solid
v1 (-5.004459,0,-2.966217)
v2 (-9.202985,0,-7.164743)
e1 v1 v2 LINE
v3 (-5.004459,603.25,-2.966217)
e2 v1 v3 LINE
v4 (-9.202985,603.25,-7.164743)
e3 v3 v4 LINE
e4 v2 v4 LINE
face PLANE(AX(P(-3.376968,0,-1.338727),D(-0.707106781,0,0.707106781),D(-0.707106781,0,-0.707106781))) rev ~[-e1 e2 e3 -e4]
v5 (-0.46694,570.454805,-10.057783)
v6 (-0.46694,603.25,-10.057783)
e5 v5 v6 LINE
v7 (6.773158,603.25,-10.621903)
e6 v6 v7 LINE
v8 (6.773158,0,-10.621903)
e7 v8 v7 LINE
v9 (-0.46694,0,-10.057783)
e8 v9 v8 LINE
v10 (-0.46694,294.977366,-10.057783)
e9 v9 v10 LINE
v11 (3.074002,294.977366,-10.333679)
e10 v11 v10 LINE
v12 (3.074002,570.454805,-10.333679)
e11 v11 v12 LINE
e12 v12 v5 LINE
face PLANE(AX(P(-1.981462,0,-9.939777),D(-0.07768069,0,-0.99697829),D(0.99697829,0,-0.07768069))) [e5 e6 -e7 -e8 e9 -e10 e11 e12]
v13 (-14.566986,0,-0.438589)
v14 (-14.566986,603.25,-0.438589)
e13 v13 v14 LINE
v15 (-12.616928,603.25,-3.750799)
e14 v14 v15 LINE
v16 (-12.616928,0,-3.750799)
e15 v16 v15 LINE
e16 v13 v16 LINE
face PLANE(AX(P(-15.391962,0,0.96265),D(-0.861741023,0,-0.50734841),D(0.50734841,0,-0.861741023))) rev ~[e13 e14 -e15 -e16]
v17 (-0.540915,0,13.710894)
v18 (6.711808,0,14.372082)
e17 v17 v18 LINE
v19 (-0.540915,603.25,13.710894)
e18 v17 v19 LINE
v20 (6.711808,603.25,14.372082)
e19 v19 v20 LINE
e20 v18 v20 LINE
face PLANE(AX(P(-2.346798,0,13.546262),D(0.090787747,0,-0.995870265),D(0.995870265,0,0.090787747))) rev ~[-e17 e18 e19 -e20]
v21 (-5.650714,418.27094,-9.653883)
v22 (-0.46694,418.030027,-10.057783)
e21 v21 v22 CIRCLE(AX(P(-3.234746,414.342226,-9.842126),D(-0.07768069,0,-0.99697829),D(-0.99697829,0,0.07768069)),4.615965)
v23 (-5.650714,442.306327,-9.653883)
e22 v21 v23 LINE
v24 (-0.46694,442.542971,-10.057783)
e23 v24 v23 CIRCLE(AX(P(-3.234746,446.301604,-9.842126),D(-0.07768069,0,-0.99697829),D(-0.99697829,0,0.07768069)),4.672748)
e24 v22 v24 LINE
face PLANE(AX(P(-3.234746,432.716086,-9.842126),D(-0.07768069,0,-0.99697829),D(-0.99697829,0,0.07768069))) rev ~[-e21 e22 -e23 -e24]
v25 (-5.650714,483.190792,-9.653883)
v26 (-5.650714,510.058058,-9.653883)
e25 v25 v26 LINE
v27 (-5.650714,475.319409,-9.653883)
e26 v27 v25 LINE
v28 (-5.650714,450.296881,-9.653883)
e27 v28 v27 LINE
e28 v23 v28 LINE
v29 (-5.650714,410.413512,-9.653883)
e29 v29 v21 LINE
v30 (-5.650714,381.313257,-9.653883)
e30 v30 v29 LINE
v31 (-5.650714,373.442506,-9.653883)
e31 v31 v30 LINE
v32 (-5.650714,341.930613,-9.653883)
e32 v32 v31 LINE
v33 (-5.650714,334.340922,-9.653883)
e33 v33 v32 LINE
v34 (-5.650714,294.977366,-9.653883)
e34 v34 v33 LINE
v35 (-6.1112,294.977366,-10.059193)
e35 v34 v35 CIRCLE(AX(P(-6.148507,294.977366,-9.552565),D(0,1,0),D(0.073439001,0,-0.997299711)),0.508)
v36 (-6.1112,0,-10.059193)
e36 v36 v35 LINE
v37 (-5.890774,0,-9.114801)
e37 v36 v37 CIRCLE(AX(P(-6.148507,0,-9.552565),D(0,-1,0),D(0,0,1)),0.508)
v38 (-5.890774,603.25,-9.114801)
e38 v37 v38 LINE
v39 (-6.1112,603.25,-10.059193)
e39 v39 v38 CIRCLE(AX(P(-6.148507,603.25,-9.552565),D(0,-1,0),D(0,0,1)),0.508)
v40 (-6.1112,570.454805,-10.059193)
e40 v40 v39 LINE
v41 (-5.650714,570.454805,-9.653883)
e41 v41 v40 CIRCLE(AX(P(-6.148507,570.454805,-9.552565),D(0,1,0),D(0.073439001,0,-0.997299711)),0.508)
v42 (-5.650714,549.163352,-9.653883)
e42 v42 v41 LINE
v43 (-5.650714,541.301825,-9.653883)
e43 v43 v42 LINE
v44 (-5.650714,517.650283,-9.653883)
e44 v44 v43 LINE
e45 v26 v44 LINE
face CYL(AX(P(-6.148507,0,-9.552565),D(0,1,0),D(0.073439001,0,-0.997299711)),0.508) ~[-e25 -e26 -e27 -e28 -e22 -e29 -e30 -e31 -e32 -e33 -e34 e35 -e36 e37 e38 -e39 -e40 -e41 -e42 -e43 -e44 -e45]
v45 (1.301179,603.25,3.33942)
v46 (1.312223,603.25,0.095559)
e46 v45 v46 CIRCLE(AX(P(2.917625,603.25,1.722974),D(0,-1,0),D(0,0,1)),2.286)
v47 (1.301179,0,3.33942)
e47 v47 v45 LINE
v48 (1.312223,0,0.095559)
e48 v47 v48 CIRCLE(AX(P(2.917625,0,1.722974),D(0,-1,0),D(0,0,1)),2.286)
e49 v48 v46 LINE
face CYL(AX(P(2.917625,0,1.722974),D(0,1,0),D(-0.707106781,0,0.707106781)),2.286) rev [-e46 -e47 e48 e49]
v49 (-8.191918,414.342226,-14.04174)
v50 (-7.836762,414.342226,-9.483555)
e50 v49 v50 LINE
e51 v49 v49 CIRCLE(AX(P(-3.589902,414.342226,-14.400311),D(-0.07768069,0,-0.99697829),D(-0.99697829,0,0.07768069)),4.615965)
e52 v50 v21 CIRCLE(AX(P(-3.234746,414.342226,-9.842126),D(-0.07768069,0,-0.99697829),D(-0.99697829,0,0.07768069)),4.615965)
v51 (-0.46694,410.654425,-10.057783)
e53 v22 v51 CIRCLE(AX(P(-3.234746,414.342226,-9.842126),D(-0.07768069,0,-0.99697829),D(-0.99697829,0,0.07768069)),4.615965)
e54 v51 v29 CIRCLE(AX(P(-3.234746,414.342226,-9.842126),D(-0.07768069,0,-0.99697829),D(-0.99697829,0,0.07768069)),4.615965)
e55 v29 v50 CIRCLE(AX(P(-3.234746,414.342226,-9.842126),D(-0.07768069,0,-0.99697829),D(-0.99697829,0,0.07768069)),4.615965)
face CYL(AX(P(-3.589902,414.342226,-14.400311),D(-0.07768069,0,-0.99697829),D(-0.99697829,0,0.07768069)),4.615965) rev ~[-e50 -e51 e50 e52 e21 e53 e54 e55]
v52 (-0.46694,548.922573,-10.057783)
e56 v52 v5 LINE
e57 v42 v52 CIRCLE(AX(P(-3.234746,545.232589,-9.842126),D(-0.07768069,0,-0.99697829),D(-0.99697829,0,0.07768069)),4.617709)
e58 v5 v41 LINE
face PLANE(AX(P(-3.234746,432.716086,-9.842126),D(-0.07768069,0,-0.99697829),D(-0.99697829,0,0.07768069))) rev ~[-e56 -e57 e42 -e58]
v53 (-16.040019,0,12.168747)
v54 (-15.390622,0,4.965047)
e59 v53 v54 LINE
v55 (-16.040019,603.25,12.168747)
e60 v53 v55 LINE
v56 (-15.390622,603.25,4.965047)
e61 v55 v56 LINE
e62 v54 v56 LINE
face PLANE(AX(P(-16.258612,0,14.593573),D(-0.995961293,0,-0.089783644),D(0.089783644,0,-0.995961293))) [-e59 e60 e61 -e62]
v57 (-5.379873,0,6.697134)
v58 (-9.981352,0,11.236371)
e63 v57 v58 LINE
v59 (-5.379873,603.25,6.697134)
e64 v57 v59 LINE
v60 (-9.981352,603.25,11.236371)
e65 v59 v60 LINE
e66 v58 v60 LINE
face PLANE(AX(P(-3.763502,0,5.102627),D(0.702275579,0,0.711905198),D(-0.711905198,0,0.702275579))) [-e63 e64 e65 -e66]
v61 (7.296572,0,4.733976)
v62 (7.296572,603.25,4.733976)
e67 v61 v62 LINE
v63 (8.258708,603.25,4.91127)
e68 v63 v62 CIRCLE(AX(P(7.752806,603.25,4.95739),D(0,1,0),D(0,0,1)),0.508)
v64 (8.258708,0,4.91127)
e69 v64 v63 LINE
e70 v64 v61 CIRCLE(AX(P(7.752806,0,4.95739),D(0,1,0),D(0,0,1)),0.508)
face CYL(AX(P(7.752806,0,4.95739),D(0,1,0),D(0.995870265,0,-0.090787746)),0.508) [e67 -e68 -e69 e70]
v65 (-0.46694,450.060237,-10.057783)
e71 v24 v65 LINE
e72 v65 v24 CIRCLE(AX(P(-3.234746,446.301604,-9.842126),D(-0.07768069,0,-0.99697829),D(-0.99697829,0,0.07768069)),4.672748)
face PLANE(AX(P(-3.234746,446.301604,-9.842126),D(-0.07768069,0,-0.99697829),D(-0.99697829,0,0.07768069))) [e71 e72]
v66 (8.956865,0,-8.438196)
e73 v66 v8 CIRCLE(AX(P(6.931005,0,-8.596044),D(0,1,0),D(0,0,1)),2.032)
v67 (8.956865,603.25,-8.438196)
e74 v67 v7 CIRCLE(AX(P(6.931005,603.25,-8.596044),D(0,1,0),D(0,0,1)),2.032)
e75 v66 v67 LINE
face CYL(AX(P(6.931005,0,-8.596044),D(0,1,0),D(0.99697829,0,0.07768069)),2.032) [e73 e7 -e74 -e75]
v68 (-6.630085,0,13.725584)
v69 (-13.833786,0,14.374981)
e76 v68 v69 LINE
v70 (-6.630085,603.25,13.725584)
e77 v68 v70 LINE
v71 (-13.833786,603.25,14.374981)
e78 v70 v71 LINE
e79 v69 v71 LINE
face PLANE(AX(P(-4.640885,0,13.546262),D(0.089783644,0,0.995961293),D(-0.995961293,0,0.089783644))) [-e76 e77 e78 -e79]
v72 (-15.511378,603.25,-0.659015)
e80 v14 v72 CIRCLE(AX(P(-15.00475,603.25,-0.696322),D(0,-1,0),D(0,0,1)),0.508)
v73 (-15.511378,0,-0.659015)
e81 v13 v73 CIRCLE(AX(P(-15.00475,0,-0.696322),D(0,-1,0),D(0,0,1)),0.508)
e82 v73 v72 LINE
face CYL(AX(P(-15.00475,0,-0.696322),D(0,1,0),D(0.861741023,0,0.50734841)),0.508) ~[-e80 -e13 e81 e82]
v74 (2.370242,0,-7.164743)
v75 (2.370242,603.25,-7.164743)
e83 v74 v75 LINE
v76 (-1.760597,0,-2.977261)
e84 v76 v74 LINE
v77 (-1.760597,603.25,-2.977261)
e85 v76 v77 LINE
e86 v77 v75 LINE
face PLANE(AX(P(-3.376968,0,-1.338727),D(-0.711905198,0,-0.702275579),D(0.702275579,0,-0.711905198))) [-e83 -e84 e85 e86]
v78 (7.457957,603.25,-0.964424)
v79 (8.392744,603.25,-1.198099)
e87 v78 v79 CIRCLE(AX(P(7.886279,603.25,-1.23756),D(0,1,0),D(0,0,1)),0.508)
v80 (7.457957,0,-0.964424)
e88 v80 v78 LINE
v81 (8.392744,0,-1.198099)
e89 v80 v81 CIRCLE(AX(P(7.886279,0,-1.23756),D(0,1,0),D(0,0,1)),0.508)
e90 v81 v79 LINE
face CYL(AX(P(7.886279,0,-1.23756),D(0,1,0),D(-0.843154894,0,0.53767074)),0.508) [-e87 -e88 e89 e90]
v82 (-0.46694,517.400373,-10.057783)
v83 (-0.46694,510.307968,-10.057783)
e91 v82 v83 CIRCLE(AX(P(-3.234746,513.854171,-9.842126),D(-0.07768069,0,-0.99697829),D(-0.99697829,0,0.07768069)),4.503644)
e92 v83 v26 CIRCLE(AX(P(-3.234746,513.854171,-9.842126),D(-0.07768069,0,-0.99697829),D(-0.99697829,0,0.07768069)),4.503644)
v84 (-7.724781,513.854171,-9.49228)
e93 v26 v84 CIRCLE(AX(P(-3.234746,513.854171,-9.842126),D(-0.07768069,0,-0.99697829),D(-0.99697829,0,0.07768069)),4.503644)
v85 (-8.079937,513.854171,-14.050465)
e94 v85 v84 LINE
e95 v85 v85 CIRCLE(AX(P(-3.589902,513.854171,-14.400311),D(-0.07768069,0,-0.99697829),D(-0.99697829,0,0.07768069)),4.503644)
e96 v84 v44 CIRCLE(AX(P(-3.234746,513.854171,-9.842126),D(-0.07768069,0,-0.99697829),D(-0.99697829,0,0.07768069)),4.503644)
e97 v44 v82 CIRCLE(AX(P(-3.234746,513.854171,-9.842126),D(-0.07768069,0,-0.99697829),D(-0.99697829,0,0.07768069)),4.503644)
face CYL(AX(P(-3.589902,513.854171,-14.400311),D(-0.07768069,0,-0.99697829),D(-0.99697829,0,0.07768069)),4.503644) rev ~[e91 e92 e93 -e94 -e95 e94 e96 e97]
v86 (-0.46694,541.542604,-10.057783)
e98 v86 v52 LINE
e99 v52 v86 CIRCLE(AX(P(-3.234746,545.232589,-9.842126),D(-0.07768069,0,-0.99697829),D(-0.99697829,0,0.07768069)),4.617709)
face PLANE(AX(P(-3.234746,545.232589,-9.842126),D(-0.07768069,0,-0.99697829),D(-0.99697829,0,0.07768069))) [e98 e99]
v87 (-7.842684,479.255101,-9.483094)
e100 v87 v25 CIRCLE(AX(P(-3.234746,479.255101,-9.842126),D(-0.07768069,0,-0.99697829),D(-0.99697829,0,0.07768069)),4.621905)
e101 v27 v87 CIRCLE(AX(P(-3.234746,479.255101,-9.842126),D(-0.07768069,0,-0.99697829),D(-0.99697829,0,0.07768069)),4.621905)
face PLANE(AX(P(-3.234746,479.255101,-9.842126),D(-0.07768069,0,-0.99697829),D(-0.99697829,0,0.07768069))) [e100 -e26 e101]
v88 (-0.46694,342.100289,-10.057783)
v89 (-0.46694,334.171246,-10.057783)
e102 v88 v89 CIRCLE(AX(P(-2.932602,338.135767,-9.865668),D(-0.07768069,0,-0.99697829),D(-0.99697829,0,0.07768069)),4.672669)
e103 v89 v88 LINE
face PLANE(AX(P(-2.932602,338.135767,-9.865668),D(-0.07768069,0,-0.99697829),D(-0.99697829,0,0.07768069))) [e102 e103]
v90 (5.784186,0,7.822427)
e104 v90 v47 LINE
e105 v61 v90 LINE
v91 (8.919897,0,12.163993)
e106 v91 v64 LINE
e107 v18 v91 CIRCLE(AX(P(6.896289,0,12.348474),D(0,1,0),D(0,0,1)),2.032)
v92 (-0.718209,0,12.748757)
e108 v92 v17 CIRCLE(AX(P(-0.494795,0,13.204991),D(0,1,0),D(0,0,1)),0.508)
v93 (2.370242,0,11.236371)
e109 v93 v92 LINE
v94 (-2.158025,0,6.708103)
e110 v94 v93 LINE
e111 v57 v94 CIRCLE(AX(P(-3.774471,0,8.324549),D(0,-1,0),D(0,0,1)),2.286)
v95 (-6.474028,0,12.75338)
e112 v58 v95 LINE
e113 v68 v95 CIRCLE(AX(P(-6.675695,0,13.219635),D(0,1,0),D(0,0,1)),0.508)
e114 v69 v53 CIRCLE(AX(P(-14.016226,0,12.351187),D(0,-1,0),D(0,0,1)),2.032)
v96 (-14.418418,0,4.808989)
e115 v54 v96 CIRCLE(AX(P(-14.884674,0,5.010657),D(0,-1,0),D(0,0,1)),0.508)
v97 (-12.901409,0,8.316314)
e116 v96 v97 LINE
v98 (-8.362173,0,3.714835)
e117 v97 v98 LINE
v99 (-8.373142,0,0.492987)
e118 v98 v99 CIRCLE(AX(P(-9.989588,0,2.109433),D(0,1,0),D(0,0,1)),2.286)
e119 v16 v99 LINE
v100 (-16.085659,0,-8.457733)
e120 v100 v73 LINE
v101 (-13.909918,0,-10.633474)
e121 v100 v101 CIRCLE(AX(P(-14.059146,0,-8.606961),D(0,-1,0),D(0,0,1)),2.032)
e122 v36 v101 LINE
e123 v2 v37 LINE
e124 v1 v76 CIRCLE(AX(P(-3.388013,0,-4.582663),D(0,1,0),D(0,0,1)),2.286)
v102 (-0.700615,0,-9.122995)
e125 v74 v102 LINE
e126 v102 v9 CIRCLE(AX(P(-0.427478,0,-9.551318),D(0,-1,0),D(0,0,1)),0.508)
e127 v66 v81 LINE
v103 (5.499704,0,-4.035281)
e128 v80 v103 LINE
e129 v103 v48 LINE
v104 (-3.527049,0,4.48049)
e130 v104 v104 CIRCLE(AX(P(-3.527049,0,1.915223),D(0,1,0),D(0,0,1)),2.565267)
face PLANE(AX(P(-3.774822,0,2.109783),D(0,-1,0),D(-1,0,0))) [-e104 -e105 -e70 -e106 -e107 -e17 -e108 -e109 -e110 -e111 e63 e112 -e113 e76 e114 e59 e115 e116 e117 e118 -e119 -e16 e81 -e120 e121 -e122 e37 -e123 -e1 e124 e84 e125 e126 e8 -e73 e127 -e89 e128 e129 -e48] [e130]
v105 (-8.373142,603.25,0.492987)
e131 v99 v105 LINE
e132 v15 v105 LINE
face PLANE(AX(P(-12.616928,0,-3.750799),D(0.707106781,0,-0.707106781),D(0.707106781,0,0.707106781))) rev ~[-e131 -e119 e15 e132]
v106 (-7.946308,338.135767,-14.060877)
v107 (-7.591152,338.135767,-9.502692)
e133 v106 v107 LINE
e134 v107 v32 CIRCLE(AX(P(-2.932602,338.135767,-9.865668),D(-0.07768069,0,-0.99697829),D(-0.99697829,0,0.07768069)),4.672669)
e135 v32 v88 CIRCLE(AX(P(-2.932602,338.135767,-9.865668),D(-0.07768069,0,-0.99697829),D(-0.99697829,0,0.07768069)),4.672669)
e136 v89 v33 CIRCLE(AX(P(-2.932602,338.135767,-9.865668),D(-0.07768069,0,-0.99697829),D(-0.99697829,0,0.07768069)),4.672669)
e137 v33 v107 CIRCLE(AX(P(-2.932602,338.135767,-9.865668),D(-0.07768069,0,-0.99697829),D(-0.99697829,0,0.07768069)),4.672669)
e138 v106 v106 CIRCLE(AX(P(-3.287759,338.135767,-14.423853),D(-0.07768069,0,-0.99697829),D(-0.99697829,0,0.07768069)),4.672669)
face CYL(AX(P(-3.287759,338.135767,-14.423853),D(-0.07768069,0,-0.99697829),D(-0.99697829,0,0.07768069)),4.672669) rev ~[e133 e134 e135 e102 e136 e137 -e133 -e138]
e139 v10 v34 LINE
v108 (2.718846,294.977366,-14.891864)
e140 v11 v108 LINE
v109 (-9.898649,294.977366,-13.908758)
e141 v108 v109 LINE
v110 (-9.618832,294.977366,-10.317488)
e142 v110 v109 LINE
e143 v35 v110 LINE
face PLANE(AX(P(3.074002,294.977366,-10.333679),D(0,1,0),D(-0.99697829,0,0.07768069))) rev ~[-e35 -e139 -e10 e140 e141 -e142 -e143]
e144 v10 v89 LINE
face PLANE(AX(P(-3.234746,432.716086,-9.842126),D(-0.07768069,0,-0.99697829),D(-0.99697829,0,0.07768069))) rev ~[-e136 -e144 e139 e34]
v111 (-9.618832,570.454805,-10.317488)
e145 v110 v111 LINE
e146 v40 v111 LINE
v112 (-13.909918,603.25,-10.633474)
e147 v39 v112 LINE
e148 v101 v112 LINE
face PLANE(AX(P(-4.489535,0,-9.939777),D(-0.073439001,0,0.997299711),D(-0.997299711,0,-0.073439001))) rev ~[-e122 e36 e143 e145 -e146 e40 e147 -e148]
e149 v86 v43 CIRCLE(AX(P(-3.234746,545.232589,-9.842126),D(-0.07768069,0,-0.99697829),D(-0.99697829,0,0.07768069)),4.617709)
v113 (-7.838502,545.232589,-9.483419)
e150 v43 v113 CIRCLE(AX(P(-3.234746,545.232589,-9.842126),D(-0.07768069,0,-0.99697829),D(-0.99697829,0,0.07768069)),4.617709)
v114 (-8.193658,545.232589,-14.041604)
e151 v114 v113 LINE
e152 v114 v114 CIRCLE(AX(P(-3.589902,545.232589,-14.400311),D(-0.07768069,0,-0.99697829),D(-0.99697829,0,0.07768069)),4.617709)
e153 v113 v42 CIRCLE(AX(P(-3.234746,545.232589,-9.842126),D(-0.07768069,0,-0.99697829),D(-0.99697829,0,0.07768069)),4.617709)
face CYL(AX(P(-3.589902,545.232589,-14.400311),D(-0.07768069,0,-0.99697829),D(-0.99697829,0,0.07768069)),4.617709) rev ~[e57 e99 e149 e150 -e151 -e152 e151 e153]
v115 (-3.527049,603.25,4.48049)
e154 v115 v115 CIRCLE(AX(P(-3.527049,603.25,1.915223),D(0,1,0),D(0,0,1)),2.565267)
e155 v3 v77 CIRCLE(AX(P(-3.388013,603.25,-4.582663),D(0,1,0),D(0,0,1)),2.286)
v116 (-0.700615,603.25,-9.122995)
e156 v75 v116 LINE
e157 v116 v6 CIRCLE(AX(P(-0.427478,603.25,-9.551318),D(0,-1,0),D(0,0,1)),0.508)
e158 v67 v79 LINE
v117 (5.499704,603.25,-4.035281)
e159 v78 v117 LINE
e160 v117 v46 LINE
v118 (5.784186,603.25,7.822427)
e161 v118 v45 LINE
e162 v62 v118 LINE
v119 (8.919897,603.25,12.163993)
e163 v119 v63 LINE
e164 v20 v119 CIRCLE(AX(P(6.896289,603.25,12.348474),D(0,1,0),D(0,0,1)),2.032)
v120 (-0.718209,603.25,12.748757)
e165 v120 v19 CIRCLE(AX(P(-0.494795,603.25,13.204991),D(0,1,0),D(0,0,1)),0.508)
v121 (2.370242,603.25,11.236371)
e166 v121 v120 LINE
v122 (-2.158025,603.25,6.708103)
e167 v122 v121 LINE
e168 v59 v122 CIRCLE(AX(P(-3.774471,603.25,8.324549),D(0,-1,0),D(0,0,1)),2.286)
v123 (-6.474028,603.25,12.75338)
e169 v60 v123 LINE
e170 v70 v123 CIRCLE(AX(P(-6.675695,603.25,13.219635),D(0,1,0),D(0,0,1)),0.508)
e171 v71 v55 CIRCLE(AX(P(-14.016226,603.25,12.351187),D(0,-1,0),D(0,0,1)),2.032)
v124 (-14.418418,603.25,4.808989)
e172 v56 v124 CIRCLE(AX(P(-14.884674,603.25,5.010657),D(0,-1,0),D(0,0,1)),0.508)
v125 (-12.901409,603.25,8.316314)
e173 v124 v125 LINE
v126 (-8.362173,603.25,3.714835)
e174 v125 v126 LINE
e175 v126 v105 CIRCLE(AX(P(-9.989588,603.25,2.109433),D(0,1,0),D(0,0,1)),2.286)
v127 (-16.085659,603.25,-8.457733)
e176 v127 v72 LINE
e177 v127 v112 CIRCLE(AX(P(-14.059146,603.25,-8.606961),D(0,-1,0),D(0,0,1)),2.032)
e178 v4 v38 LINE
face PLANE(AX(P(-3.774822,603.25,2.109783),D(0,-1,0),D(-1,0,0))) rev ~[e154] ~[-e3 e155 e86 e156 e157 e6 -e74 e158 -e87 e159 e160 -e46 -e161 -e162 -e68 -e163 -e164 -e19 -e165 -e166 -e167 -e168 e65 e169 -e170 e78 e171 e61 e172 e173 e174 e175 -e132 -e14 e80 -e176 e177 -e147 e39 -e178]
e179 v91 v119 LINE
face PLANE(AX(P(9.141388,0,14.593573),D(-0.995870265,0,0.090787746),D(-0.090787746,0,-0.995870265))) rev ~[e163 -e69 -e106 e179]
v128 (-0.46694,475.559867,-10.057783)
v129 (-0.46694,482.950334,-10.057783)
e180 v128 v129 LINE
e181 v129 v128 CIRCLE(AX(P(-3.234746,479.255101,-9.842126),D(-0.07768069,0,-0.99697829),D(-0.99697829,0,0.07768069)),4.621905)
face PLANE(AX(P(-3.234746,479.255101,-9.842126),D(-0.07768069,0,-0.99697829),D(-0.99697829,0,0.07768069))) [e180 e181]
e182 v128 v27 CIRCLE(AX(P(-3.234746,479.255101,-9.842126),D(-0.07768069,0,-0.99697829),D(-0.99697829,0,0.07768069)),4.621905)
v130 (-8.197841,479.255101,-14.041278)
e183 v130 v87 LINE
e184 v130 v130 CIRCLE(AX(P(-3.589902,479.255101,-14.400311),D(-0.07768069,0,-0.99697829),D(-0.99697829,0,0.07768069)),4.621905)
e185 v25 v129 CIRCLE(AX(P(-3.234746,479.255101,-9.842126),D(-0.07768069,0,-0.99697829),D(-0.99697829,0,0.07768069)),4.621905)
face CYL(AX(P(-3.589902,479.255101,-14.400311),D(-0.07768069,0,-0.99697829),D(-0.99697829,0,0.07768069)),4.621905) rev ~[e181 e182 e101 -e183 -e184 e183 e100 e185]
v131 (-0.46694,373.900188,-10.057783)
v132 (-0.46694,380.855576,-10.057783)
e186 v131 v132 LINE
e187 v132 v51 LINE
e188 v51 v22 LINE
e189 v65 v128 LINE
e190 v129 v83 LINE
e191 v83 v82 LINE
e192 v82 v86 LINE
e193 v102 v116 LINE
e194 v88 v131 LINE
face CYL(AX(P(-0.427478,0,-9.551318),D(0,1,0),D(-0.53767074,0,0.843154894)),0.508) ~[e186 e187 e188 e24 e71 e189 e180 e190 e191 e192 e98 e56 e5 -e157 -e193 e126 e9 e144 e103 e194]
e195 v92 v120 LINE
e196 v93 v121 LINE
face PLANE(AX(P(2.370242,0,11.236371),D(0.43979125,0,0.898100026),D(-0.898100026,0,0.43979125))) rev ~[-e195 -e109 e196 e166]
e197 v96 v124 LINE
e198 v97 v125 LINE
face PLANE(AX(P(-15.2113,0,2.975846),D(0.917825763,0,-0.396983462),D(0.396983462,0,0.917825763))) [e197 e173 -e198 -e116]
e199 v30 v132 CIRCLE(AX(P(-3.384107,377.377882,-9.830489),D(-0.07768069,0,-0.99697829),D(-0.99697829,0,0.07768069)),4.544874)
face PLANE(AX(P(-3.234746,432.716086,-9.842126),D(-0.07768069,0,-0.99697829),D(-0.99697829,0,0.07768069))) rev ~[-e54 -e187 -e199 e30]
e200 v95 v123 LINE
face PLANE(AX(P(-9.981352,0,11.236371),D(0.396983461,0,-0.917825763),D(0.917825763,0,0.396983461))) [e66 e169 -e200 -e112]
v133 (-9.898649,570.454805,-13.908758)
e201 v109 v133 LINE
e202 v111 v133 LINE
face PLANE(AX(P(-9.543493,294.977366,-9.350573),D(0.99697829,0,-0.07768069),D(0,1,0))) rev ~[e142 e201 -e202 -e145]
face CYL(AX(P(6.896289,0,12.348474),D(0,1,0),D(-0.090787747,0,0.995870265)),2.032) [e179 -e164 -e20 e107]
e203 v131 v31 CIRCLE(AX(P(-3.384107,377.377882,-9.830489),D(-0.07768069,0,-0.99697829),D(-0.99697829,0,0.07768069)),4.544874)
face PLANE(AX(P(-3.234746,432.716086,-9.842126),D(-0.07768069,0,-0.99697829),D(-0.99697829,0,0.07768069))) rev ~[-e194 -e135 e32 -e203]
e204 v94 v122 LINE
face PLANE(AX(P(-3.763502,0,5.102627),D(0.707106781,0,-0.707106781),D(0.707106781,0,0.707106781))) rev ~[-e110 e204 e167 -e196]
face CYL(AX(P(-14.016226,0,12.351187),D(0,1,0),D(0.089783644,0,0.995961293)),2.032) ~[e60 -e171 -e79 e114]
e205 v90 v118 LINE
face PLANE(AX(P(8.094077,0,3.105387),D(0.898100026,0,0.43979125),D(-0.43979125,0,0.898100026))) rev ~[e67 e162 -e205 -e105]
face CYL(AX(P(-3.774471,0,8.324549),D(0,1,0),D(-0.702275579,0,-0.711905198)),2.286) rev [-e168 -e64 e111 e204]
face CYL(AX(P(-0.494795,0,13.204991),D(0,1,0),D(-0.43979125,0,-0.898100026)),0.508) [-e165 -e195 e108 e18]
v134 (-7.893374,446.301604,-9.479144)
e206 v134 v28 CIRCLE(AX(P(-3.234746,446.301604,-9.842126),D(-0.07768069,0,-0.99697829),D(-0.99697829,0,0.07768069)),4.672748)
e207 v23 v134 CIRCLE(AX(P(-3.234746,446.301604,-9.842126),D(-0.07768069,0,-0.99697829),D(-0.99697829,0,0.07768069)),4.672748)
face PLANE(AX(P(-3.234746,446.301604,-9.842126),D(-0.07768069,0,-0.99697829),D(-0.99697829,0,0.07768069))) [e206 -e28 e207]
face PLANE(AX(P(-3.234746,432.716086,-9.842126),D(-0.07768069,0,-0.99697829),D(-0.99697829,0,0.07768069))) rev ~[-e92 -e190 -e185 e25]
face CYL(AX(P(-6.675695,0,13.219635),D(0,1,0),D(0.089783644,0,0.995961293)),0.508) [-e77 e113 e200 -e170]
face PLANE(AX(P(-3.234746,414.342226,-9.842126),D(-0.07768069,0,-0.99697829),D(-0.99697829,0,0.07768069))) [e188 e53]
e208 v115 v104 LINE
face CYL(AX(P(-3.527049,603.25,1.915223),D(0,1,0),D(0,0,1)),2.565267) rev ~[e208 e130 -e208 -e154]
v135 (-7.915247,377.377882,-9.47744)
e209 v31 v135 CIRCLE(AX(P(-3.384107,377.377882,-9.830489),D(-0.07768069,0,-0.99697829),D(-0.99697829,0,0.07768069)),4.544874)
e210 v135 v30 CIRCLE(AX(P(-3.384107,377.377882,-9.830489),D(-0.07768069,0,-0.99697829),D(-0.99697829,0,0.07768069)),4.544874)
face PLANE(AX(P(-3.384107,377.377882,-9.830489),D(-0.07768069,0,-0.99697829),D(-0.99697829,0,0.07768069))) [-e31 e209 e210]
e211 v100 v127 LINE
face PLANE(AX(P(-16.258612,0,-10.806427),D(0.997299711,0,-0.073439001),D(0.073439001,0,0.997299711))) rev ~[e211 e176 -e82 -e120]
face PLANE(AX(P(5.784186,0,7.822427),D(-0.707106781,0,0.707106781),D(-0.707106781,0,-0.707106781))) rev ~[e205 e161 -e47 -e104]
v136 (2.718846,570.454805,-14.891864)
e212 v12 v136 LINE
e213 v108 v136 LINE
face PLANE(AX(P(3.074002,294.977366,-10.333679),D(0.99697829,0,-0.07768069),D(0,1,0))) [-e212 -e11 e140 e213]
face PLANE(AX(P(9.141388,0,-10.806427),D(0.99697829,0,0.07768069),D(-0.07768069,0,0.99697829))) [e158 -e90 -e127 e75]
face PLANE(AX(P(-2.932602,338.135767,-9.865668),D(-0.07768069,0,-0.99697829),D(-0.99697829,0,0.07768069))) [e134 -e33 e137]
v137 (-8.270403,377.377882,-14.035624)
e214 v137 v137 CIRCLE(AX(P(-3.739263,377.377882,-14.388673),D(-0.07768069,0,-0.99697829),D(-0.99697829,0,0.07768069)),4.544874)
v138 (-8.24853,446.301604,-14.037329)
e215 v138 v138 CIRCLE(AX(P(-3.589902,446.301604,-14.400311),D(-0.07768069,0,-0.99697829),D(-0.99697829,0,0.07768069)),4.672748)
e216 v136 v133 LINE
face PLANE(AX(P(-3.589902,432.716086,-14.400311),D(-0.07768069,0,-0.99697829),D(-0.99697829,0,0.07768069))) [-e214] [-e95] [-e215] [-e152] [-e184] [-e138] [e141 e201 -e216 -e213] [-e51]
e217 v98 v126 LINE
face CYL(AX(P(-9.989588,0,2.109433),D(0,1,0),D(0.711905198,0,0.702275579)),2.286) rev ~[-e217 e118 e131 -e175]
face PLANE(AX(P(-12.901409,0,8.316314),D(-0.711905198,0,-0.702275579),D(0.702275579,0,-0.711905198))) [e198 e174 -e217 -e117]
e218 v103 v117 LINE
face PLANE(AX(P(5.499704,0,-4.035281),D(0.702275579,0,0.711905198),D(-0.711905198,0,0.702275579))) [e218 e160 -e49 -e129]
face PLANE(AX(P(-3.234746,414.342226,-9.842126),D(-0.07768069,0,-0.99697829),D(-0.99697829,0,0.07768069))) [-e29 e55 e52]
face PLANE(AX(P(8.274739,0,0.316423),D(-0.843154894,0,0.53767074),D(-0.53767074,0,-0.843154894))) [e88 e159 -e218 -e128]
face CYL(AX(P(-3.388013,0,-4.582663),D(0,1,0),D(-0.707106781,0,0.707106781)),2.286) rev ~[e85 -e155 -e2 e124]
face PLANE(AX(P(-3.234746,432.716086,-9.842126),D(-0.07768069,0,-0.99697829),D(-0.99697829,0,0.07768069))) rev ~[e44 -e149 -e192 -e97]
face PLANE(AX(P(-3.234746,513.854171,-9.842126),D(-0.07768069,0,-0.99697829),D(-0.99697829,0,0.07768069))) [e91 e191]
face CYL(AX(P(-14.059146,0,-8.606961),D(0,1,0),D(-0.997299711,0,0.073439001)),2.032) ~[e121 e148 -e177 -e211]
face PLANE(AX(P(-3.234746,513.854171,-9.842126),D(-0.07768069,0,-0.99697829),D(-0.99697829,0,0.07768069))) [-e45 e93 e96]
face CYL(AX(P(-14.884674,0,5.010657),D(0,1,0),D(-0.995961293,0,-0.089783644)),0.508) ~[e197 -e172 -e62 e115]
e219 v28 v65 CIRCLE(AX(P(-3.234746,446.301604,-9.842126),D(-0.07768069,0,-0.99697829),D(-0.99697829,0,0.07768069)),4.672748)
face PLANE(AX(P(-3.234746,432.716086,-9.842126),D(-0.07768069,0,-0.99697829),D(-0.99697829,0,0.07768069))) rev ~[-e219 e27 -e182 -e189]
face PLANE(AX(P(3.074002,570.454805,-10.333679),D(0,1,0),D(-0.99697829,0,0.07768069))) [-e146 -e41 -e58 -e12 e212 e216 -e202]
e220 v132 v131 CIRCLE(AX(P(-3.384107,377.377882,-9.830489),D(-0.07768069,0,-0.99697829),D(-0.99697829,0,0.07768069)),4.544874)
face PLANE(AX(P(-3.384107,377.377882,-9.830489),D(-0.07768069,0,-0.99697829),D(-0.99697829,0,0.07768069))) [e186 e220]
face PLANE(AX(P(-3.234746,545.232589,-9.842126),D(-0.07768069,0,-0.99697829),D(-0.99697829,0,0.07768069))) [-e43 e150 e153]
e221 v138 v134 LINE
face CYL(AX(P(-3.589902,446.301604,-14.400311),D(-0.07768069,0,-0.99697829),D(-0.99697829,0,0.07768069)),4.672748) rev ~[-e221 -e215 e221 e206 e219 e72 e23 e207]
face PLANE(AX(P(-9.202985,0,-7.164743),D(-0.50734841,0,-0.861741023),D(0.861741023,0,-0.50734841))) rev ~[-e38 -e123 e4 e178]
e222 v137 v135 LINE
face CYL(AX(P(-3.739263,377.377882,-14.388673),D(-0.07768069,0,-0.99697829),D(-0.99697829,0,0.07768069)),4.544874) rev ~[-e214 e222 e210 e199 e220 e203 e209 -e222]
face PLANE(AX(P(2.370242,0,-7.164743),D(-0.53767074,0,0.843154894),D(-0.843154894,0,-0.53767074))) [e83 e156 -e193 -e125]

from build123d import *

# Parameters (mm, degrees)
BOSS_EXTRUDE1_DEPTH = 603.25
SKETCH8_R           = 2.565266714
CUT_EXTRUDE4_DEPTH  = 604.996
FILLET1_R           = 2.032
FILLET2_R           = 0.508
SKETCH5_W           = 12.655737404
SKETCH5_H           = 275.477439744
BOSS_EXTRUDE3_DEPTH = 4.572
SKETCH6_R           = 4.617709461
SKETCH6_R_2         = 4.503643825
SKETCH6_R_3         = 4.621904919
SKETCH6_R_4         = 4.672748293
SKETCH6_R_5         = 4.615964847
CUT_EXTRUDE2_DEPTH  = 4.572
SKETCH7_R           = 4.54487388
SKETCH7_R_2         = 4.672668652
CUT_EXTRUDE3_DEPTH  = 4.572
FILLET3_R           = 2.286


with BuildPart() as part:
    # Sketch2 → Boss-Extrude1 (new body)
    with BuildSketch(Plane(origin=(0, 0, 0), x_dir=(1, 0, 0), z_dir=(0, 1, 0))):
        Polygon((-16.258611825, -14.593573265), (-15.211300169, -2.97584616), (-12.901409331, -8.316313776), (2.370242199, 7.164742979), (-1.981461576, 9.939777323), (9.141388175, 10.806426735), (8.274738763, -0.316423015), (5.499704418, 4.03528076), (-9.981352337, -11.236370771), (-4.640884721, -13.546261608), align=None)
        Polygon((-15.391962413, -0.962649654), (-12.616928069, 3.750799497), (2.370242199, -11.236370771), (-2.346798037, -13.546261608), (9.141388175, -14.593573265), (8.094076519, -3.105387053), (5.784185681, -7.822427289), (-9.202984587, 7.164742979), (-4.489535436, 9.939777323), (-16.258611825, 10.806426735), align=None)
    extrude(amount=BOSS_EXTRUDE1_DEPTH)

    # Sketch8 → Cut-Extrude4 (cut)
    with BuildSketch(Plane(origin=(0, 603.25, 0), x_dir=(1, 0, 0), z_dir=(0, 1, 0))):
        with Locations(Location((-3.527048706, -1.915222876, 0), (0, 0, 270))):
            Circle(SKETCH8_R)
    extrude(amount=-CUT_EXTRUDE4_DEPTH, mode=Mode.SUBTRACT)

    # Fillet1
    fillet1_edges = [part.edges().sort_by_distance(p)[0] for p in [
        (9.141388175, 301.625, -10.806426735),
        (9.141388175, 301.625, 14.593573265),
        (-16.258611825, 301.625, 14.593573265),
        (-16.258611825, 301.625, -10.806426735),
    ]]
    fillet(fillet1_edges, radius=FILLET1_R)

    # Fillet2
    fillet2_edges = [part.edges().sort_by_distance(p)[0] for p in [
        (-1.981461576, 301.625, -9.939777323),
        (8.274738763, 301.625, 0.316423015),
        (8.094076519, 301.625, 3.105387053),
        (-2.346798037, 301.625, 13.546261608),
        (-4.640884721, 301.625, 13.546261608),
        (-15.211300169, 301.625, 2.97584616),
        (-15.391962413, 301.625, 0.962649654),
        (-4.489535436, 301.625, -9.939777323),
    ]]
    fillet(fillet2_edges, radius=FILLET2_R)

    # Sketch5 → Boss-Extrude3 (add)
    with BuildSketch(Plane(origin=(-0.781752329, 0, -10.033254025), x_dir=(-0.9969782897972478, 0, 0.07768069047681715), z_dir=(-0.07768069047681715, 0, -0.9969782897972478))):
        with Locations((2.46042797, 432.716085527)):
            Rectangle(SKETCH5_W, SKETCH5_H)
    extrude(amount=BOSS_EXTRUDE3_DEPTH)

    # Sketch6 → Cut-Extrude2 (cut)
    with BuildSketch(Plane(origin=(-1.136908446, 0, -14.591438766), x_dir=(-0.9969782897972478, 0, 0.07768069047681722), z_dir=(-0.07768069047681722, 0, -0.9969782897972478))):
        with Locations((2.46042797, 545.232588529)):
            Circle(SKETCH6_R)
        with Locations((2.46042797, 513.854170907)):
            Circle(SKETCH6_R_2)
        with Locations((2.46042797, 479.255100803)):
            Circle(SKETCH6_R_3)
        with Locations((2.46042797, 446.301604006)):
            Circle(SKETCH6_R_4)
        with Locations((2.46042797, 414.342225806)):
            Circle(SKETCH6_R_5)
    extrude(amount=-CUT_EXTRUDE2_DEPTH, mode=Mode.SUBTRACT)

    # Sketch7 → Cut-Extrude3 (cut)
    with BuildSketch(Plane(origin=(-1.136908446, 0, -14.591438766), x_dir=(-0.9969782897972478, 0, 0.07768069047681712), z_dir=(-0.07768069047681712, 0, -0.9969782897972478))):
        with Locations((2.610241648, 377.377881706)):
            Circle(SKETCH7_R)
        with Locations((2.157369038, 338.135767483)):
            Circle(SKETCH7_R_2)
    extrude(amount=-CUT_EXTRUDE3_DEPTH, mode=Mode.SUBTRACT)

    # Fillet3
    fillet3_edges = [part.edges().sort_by_distance(p)[0] for p in [
        (-0.326311914, 301.625, 1.711929695),
        (-6.767665082, 301.625, 2.09846349),
        (-3.376968255, 301.625, -1.338726647),
        (-3.76350205, 301.625, 5.102626521),
    ]]
    fillet(fillet3_edges, radius=FILLET3_R)


solid = part.part
